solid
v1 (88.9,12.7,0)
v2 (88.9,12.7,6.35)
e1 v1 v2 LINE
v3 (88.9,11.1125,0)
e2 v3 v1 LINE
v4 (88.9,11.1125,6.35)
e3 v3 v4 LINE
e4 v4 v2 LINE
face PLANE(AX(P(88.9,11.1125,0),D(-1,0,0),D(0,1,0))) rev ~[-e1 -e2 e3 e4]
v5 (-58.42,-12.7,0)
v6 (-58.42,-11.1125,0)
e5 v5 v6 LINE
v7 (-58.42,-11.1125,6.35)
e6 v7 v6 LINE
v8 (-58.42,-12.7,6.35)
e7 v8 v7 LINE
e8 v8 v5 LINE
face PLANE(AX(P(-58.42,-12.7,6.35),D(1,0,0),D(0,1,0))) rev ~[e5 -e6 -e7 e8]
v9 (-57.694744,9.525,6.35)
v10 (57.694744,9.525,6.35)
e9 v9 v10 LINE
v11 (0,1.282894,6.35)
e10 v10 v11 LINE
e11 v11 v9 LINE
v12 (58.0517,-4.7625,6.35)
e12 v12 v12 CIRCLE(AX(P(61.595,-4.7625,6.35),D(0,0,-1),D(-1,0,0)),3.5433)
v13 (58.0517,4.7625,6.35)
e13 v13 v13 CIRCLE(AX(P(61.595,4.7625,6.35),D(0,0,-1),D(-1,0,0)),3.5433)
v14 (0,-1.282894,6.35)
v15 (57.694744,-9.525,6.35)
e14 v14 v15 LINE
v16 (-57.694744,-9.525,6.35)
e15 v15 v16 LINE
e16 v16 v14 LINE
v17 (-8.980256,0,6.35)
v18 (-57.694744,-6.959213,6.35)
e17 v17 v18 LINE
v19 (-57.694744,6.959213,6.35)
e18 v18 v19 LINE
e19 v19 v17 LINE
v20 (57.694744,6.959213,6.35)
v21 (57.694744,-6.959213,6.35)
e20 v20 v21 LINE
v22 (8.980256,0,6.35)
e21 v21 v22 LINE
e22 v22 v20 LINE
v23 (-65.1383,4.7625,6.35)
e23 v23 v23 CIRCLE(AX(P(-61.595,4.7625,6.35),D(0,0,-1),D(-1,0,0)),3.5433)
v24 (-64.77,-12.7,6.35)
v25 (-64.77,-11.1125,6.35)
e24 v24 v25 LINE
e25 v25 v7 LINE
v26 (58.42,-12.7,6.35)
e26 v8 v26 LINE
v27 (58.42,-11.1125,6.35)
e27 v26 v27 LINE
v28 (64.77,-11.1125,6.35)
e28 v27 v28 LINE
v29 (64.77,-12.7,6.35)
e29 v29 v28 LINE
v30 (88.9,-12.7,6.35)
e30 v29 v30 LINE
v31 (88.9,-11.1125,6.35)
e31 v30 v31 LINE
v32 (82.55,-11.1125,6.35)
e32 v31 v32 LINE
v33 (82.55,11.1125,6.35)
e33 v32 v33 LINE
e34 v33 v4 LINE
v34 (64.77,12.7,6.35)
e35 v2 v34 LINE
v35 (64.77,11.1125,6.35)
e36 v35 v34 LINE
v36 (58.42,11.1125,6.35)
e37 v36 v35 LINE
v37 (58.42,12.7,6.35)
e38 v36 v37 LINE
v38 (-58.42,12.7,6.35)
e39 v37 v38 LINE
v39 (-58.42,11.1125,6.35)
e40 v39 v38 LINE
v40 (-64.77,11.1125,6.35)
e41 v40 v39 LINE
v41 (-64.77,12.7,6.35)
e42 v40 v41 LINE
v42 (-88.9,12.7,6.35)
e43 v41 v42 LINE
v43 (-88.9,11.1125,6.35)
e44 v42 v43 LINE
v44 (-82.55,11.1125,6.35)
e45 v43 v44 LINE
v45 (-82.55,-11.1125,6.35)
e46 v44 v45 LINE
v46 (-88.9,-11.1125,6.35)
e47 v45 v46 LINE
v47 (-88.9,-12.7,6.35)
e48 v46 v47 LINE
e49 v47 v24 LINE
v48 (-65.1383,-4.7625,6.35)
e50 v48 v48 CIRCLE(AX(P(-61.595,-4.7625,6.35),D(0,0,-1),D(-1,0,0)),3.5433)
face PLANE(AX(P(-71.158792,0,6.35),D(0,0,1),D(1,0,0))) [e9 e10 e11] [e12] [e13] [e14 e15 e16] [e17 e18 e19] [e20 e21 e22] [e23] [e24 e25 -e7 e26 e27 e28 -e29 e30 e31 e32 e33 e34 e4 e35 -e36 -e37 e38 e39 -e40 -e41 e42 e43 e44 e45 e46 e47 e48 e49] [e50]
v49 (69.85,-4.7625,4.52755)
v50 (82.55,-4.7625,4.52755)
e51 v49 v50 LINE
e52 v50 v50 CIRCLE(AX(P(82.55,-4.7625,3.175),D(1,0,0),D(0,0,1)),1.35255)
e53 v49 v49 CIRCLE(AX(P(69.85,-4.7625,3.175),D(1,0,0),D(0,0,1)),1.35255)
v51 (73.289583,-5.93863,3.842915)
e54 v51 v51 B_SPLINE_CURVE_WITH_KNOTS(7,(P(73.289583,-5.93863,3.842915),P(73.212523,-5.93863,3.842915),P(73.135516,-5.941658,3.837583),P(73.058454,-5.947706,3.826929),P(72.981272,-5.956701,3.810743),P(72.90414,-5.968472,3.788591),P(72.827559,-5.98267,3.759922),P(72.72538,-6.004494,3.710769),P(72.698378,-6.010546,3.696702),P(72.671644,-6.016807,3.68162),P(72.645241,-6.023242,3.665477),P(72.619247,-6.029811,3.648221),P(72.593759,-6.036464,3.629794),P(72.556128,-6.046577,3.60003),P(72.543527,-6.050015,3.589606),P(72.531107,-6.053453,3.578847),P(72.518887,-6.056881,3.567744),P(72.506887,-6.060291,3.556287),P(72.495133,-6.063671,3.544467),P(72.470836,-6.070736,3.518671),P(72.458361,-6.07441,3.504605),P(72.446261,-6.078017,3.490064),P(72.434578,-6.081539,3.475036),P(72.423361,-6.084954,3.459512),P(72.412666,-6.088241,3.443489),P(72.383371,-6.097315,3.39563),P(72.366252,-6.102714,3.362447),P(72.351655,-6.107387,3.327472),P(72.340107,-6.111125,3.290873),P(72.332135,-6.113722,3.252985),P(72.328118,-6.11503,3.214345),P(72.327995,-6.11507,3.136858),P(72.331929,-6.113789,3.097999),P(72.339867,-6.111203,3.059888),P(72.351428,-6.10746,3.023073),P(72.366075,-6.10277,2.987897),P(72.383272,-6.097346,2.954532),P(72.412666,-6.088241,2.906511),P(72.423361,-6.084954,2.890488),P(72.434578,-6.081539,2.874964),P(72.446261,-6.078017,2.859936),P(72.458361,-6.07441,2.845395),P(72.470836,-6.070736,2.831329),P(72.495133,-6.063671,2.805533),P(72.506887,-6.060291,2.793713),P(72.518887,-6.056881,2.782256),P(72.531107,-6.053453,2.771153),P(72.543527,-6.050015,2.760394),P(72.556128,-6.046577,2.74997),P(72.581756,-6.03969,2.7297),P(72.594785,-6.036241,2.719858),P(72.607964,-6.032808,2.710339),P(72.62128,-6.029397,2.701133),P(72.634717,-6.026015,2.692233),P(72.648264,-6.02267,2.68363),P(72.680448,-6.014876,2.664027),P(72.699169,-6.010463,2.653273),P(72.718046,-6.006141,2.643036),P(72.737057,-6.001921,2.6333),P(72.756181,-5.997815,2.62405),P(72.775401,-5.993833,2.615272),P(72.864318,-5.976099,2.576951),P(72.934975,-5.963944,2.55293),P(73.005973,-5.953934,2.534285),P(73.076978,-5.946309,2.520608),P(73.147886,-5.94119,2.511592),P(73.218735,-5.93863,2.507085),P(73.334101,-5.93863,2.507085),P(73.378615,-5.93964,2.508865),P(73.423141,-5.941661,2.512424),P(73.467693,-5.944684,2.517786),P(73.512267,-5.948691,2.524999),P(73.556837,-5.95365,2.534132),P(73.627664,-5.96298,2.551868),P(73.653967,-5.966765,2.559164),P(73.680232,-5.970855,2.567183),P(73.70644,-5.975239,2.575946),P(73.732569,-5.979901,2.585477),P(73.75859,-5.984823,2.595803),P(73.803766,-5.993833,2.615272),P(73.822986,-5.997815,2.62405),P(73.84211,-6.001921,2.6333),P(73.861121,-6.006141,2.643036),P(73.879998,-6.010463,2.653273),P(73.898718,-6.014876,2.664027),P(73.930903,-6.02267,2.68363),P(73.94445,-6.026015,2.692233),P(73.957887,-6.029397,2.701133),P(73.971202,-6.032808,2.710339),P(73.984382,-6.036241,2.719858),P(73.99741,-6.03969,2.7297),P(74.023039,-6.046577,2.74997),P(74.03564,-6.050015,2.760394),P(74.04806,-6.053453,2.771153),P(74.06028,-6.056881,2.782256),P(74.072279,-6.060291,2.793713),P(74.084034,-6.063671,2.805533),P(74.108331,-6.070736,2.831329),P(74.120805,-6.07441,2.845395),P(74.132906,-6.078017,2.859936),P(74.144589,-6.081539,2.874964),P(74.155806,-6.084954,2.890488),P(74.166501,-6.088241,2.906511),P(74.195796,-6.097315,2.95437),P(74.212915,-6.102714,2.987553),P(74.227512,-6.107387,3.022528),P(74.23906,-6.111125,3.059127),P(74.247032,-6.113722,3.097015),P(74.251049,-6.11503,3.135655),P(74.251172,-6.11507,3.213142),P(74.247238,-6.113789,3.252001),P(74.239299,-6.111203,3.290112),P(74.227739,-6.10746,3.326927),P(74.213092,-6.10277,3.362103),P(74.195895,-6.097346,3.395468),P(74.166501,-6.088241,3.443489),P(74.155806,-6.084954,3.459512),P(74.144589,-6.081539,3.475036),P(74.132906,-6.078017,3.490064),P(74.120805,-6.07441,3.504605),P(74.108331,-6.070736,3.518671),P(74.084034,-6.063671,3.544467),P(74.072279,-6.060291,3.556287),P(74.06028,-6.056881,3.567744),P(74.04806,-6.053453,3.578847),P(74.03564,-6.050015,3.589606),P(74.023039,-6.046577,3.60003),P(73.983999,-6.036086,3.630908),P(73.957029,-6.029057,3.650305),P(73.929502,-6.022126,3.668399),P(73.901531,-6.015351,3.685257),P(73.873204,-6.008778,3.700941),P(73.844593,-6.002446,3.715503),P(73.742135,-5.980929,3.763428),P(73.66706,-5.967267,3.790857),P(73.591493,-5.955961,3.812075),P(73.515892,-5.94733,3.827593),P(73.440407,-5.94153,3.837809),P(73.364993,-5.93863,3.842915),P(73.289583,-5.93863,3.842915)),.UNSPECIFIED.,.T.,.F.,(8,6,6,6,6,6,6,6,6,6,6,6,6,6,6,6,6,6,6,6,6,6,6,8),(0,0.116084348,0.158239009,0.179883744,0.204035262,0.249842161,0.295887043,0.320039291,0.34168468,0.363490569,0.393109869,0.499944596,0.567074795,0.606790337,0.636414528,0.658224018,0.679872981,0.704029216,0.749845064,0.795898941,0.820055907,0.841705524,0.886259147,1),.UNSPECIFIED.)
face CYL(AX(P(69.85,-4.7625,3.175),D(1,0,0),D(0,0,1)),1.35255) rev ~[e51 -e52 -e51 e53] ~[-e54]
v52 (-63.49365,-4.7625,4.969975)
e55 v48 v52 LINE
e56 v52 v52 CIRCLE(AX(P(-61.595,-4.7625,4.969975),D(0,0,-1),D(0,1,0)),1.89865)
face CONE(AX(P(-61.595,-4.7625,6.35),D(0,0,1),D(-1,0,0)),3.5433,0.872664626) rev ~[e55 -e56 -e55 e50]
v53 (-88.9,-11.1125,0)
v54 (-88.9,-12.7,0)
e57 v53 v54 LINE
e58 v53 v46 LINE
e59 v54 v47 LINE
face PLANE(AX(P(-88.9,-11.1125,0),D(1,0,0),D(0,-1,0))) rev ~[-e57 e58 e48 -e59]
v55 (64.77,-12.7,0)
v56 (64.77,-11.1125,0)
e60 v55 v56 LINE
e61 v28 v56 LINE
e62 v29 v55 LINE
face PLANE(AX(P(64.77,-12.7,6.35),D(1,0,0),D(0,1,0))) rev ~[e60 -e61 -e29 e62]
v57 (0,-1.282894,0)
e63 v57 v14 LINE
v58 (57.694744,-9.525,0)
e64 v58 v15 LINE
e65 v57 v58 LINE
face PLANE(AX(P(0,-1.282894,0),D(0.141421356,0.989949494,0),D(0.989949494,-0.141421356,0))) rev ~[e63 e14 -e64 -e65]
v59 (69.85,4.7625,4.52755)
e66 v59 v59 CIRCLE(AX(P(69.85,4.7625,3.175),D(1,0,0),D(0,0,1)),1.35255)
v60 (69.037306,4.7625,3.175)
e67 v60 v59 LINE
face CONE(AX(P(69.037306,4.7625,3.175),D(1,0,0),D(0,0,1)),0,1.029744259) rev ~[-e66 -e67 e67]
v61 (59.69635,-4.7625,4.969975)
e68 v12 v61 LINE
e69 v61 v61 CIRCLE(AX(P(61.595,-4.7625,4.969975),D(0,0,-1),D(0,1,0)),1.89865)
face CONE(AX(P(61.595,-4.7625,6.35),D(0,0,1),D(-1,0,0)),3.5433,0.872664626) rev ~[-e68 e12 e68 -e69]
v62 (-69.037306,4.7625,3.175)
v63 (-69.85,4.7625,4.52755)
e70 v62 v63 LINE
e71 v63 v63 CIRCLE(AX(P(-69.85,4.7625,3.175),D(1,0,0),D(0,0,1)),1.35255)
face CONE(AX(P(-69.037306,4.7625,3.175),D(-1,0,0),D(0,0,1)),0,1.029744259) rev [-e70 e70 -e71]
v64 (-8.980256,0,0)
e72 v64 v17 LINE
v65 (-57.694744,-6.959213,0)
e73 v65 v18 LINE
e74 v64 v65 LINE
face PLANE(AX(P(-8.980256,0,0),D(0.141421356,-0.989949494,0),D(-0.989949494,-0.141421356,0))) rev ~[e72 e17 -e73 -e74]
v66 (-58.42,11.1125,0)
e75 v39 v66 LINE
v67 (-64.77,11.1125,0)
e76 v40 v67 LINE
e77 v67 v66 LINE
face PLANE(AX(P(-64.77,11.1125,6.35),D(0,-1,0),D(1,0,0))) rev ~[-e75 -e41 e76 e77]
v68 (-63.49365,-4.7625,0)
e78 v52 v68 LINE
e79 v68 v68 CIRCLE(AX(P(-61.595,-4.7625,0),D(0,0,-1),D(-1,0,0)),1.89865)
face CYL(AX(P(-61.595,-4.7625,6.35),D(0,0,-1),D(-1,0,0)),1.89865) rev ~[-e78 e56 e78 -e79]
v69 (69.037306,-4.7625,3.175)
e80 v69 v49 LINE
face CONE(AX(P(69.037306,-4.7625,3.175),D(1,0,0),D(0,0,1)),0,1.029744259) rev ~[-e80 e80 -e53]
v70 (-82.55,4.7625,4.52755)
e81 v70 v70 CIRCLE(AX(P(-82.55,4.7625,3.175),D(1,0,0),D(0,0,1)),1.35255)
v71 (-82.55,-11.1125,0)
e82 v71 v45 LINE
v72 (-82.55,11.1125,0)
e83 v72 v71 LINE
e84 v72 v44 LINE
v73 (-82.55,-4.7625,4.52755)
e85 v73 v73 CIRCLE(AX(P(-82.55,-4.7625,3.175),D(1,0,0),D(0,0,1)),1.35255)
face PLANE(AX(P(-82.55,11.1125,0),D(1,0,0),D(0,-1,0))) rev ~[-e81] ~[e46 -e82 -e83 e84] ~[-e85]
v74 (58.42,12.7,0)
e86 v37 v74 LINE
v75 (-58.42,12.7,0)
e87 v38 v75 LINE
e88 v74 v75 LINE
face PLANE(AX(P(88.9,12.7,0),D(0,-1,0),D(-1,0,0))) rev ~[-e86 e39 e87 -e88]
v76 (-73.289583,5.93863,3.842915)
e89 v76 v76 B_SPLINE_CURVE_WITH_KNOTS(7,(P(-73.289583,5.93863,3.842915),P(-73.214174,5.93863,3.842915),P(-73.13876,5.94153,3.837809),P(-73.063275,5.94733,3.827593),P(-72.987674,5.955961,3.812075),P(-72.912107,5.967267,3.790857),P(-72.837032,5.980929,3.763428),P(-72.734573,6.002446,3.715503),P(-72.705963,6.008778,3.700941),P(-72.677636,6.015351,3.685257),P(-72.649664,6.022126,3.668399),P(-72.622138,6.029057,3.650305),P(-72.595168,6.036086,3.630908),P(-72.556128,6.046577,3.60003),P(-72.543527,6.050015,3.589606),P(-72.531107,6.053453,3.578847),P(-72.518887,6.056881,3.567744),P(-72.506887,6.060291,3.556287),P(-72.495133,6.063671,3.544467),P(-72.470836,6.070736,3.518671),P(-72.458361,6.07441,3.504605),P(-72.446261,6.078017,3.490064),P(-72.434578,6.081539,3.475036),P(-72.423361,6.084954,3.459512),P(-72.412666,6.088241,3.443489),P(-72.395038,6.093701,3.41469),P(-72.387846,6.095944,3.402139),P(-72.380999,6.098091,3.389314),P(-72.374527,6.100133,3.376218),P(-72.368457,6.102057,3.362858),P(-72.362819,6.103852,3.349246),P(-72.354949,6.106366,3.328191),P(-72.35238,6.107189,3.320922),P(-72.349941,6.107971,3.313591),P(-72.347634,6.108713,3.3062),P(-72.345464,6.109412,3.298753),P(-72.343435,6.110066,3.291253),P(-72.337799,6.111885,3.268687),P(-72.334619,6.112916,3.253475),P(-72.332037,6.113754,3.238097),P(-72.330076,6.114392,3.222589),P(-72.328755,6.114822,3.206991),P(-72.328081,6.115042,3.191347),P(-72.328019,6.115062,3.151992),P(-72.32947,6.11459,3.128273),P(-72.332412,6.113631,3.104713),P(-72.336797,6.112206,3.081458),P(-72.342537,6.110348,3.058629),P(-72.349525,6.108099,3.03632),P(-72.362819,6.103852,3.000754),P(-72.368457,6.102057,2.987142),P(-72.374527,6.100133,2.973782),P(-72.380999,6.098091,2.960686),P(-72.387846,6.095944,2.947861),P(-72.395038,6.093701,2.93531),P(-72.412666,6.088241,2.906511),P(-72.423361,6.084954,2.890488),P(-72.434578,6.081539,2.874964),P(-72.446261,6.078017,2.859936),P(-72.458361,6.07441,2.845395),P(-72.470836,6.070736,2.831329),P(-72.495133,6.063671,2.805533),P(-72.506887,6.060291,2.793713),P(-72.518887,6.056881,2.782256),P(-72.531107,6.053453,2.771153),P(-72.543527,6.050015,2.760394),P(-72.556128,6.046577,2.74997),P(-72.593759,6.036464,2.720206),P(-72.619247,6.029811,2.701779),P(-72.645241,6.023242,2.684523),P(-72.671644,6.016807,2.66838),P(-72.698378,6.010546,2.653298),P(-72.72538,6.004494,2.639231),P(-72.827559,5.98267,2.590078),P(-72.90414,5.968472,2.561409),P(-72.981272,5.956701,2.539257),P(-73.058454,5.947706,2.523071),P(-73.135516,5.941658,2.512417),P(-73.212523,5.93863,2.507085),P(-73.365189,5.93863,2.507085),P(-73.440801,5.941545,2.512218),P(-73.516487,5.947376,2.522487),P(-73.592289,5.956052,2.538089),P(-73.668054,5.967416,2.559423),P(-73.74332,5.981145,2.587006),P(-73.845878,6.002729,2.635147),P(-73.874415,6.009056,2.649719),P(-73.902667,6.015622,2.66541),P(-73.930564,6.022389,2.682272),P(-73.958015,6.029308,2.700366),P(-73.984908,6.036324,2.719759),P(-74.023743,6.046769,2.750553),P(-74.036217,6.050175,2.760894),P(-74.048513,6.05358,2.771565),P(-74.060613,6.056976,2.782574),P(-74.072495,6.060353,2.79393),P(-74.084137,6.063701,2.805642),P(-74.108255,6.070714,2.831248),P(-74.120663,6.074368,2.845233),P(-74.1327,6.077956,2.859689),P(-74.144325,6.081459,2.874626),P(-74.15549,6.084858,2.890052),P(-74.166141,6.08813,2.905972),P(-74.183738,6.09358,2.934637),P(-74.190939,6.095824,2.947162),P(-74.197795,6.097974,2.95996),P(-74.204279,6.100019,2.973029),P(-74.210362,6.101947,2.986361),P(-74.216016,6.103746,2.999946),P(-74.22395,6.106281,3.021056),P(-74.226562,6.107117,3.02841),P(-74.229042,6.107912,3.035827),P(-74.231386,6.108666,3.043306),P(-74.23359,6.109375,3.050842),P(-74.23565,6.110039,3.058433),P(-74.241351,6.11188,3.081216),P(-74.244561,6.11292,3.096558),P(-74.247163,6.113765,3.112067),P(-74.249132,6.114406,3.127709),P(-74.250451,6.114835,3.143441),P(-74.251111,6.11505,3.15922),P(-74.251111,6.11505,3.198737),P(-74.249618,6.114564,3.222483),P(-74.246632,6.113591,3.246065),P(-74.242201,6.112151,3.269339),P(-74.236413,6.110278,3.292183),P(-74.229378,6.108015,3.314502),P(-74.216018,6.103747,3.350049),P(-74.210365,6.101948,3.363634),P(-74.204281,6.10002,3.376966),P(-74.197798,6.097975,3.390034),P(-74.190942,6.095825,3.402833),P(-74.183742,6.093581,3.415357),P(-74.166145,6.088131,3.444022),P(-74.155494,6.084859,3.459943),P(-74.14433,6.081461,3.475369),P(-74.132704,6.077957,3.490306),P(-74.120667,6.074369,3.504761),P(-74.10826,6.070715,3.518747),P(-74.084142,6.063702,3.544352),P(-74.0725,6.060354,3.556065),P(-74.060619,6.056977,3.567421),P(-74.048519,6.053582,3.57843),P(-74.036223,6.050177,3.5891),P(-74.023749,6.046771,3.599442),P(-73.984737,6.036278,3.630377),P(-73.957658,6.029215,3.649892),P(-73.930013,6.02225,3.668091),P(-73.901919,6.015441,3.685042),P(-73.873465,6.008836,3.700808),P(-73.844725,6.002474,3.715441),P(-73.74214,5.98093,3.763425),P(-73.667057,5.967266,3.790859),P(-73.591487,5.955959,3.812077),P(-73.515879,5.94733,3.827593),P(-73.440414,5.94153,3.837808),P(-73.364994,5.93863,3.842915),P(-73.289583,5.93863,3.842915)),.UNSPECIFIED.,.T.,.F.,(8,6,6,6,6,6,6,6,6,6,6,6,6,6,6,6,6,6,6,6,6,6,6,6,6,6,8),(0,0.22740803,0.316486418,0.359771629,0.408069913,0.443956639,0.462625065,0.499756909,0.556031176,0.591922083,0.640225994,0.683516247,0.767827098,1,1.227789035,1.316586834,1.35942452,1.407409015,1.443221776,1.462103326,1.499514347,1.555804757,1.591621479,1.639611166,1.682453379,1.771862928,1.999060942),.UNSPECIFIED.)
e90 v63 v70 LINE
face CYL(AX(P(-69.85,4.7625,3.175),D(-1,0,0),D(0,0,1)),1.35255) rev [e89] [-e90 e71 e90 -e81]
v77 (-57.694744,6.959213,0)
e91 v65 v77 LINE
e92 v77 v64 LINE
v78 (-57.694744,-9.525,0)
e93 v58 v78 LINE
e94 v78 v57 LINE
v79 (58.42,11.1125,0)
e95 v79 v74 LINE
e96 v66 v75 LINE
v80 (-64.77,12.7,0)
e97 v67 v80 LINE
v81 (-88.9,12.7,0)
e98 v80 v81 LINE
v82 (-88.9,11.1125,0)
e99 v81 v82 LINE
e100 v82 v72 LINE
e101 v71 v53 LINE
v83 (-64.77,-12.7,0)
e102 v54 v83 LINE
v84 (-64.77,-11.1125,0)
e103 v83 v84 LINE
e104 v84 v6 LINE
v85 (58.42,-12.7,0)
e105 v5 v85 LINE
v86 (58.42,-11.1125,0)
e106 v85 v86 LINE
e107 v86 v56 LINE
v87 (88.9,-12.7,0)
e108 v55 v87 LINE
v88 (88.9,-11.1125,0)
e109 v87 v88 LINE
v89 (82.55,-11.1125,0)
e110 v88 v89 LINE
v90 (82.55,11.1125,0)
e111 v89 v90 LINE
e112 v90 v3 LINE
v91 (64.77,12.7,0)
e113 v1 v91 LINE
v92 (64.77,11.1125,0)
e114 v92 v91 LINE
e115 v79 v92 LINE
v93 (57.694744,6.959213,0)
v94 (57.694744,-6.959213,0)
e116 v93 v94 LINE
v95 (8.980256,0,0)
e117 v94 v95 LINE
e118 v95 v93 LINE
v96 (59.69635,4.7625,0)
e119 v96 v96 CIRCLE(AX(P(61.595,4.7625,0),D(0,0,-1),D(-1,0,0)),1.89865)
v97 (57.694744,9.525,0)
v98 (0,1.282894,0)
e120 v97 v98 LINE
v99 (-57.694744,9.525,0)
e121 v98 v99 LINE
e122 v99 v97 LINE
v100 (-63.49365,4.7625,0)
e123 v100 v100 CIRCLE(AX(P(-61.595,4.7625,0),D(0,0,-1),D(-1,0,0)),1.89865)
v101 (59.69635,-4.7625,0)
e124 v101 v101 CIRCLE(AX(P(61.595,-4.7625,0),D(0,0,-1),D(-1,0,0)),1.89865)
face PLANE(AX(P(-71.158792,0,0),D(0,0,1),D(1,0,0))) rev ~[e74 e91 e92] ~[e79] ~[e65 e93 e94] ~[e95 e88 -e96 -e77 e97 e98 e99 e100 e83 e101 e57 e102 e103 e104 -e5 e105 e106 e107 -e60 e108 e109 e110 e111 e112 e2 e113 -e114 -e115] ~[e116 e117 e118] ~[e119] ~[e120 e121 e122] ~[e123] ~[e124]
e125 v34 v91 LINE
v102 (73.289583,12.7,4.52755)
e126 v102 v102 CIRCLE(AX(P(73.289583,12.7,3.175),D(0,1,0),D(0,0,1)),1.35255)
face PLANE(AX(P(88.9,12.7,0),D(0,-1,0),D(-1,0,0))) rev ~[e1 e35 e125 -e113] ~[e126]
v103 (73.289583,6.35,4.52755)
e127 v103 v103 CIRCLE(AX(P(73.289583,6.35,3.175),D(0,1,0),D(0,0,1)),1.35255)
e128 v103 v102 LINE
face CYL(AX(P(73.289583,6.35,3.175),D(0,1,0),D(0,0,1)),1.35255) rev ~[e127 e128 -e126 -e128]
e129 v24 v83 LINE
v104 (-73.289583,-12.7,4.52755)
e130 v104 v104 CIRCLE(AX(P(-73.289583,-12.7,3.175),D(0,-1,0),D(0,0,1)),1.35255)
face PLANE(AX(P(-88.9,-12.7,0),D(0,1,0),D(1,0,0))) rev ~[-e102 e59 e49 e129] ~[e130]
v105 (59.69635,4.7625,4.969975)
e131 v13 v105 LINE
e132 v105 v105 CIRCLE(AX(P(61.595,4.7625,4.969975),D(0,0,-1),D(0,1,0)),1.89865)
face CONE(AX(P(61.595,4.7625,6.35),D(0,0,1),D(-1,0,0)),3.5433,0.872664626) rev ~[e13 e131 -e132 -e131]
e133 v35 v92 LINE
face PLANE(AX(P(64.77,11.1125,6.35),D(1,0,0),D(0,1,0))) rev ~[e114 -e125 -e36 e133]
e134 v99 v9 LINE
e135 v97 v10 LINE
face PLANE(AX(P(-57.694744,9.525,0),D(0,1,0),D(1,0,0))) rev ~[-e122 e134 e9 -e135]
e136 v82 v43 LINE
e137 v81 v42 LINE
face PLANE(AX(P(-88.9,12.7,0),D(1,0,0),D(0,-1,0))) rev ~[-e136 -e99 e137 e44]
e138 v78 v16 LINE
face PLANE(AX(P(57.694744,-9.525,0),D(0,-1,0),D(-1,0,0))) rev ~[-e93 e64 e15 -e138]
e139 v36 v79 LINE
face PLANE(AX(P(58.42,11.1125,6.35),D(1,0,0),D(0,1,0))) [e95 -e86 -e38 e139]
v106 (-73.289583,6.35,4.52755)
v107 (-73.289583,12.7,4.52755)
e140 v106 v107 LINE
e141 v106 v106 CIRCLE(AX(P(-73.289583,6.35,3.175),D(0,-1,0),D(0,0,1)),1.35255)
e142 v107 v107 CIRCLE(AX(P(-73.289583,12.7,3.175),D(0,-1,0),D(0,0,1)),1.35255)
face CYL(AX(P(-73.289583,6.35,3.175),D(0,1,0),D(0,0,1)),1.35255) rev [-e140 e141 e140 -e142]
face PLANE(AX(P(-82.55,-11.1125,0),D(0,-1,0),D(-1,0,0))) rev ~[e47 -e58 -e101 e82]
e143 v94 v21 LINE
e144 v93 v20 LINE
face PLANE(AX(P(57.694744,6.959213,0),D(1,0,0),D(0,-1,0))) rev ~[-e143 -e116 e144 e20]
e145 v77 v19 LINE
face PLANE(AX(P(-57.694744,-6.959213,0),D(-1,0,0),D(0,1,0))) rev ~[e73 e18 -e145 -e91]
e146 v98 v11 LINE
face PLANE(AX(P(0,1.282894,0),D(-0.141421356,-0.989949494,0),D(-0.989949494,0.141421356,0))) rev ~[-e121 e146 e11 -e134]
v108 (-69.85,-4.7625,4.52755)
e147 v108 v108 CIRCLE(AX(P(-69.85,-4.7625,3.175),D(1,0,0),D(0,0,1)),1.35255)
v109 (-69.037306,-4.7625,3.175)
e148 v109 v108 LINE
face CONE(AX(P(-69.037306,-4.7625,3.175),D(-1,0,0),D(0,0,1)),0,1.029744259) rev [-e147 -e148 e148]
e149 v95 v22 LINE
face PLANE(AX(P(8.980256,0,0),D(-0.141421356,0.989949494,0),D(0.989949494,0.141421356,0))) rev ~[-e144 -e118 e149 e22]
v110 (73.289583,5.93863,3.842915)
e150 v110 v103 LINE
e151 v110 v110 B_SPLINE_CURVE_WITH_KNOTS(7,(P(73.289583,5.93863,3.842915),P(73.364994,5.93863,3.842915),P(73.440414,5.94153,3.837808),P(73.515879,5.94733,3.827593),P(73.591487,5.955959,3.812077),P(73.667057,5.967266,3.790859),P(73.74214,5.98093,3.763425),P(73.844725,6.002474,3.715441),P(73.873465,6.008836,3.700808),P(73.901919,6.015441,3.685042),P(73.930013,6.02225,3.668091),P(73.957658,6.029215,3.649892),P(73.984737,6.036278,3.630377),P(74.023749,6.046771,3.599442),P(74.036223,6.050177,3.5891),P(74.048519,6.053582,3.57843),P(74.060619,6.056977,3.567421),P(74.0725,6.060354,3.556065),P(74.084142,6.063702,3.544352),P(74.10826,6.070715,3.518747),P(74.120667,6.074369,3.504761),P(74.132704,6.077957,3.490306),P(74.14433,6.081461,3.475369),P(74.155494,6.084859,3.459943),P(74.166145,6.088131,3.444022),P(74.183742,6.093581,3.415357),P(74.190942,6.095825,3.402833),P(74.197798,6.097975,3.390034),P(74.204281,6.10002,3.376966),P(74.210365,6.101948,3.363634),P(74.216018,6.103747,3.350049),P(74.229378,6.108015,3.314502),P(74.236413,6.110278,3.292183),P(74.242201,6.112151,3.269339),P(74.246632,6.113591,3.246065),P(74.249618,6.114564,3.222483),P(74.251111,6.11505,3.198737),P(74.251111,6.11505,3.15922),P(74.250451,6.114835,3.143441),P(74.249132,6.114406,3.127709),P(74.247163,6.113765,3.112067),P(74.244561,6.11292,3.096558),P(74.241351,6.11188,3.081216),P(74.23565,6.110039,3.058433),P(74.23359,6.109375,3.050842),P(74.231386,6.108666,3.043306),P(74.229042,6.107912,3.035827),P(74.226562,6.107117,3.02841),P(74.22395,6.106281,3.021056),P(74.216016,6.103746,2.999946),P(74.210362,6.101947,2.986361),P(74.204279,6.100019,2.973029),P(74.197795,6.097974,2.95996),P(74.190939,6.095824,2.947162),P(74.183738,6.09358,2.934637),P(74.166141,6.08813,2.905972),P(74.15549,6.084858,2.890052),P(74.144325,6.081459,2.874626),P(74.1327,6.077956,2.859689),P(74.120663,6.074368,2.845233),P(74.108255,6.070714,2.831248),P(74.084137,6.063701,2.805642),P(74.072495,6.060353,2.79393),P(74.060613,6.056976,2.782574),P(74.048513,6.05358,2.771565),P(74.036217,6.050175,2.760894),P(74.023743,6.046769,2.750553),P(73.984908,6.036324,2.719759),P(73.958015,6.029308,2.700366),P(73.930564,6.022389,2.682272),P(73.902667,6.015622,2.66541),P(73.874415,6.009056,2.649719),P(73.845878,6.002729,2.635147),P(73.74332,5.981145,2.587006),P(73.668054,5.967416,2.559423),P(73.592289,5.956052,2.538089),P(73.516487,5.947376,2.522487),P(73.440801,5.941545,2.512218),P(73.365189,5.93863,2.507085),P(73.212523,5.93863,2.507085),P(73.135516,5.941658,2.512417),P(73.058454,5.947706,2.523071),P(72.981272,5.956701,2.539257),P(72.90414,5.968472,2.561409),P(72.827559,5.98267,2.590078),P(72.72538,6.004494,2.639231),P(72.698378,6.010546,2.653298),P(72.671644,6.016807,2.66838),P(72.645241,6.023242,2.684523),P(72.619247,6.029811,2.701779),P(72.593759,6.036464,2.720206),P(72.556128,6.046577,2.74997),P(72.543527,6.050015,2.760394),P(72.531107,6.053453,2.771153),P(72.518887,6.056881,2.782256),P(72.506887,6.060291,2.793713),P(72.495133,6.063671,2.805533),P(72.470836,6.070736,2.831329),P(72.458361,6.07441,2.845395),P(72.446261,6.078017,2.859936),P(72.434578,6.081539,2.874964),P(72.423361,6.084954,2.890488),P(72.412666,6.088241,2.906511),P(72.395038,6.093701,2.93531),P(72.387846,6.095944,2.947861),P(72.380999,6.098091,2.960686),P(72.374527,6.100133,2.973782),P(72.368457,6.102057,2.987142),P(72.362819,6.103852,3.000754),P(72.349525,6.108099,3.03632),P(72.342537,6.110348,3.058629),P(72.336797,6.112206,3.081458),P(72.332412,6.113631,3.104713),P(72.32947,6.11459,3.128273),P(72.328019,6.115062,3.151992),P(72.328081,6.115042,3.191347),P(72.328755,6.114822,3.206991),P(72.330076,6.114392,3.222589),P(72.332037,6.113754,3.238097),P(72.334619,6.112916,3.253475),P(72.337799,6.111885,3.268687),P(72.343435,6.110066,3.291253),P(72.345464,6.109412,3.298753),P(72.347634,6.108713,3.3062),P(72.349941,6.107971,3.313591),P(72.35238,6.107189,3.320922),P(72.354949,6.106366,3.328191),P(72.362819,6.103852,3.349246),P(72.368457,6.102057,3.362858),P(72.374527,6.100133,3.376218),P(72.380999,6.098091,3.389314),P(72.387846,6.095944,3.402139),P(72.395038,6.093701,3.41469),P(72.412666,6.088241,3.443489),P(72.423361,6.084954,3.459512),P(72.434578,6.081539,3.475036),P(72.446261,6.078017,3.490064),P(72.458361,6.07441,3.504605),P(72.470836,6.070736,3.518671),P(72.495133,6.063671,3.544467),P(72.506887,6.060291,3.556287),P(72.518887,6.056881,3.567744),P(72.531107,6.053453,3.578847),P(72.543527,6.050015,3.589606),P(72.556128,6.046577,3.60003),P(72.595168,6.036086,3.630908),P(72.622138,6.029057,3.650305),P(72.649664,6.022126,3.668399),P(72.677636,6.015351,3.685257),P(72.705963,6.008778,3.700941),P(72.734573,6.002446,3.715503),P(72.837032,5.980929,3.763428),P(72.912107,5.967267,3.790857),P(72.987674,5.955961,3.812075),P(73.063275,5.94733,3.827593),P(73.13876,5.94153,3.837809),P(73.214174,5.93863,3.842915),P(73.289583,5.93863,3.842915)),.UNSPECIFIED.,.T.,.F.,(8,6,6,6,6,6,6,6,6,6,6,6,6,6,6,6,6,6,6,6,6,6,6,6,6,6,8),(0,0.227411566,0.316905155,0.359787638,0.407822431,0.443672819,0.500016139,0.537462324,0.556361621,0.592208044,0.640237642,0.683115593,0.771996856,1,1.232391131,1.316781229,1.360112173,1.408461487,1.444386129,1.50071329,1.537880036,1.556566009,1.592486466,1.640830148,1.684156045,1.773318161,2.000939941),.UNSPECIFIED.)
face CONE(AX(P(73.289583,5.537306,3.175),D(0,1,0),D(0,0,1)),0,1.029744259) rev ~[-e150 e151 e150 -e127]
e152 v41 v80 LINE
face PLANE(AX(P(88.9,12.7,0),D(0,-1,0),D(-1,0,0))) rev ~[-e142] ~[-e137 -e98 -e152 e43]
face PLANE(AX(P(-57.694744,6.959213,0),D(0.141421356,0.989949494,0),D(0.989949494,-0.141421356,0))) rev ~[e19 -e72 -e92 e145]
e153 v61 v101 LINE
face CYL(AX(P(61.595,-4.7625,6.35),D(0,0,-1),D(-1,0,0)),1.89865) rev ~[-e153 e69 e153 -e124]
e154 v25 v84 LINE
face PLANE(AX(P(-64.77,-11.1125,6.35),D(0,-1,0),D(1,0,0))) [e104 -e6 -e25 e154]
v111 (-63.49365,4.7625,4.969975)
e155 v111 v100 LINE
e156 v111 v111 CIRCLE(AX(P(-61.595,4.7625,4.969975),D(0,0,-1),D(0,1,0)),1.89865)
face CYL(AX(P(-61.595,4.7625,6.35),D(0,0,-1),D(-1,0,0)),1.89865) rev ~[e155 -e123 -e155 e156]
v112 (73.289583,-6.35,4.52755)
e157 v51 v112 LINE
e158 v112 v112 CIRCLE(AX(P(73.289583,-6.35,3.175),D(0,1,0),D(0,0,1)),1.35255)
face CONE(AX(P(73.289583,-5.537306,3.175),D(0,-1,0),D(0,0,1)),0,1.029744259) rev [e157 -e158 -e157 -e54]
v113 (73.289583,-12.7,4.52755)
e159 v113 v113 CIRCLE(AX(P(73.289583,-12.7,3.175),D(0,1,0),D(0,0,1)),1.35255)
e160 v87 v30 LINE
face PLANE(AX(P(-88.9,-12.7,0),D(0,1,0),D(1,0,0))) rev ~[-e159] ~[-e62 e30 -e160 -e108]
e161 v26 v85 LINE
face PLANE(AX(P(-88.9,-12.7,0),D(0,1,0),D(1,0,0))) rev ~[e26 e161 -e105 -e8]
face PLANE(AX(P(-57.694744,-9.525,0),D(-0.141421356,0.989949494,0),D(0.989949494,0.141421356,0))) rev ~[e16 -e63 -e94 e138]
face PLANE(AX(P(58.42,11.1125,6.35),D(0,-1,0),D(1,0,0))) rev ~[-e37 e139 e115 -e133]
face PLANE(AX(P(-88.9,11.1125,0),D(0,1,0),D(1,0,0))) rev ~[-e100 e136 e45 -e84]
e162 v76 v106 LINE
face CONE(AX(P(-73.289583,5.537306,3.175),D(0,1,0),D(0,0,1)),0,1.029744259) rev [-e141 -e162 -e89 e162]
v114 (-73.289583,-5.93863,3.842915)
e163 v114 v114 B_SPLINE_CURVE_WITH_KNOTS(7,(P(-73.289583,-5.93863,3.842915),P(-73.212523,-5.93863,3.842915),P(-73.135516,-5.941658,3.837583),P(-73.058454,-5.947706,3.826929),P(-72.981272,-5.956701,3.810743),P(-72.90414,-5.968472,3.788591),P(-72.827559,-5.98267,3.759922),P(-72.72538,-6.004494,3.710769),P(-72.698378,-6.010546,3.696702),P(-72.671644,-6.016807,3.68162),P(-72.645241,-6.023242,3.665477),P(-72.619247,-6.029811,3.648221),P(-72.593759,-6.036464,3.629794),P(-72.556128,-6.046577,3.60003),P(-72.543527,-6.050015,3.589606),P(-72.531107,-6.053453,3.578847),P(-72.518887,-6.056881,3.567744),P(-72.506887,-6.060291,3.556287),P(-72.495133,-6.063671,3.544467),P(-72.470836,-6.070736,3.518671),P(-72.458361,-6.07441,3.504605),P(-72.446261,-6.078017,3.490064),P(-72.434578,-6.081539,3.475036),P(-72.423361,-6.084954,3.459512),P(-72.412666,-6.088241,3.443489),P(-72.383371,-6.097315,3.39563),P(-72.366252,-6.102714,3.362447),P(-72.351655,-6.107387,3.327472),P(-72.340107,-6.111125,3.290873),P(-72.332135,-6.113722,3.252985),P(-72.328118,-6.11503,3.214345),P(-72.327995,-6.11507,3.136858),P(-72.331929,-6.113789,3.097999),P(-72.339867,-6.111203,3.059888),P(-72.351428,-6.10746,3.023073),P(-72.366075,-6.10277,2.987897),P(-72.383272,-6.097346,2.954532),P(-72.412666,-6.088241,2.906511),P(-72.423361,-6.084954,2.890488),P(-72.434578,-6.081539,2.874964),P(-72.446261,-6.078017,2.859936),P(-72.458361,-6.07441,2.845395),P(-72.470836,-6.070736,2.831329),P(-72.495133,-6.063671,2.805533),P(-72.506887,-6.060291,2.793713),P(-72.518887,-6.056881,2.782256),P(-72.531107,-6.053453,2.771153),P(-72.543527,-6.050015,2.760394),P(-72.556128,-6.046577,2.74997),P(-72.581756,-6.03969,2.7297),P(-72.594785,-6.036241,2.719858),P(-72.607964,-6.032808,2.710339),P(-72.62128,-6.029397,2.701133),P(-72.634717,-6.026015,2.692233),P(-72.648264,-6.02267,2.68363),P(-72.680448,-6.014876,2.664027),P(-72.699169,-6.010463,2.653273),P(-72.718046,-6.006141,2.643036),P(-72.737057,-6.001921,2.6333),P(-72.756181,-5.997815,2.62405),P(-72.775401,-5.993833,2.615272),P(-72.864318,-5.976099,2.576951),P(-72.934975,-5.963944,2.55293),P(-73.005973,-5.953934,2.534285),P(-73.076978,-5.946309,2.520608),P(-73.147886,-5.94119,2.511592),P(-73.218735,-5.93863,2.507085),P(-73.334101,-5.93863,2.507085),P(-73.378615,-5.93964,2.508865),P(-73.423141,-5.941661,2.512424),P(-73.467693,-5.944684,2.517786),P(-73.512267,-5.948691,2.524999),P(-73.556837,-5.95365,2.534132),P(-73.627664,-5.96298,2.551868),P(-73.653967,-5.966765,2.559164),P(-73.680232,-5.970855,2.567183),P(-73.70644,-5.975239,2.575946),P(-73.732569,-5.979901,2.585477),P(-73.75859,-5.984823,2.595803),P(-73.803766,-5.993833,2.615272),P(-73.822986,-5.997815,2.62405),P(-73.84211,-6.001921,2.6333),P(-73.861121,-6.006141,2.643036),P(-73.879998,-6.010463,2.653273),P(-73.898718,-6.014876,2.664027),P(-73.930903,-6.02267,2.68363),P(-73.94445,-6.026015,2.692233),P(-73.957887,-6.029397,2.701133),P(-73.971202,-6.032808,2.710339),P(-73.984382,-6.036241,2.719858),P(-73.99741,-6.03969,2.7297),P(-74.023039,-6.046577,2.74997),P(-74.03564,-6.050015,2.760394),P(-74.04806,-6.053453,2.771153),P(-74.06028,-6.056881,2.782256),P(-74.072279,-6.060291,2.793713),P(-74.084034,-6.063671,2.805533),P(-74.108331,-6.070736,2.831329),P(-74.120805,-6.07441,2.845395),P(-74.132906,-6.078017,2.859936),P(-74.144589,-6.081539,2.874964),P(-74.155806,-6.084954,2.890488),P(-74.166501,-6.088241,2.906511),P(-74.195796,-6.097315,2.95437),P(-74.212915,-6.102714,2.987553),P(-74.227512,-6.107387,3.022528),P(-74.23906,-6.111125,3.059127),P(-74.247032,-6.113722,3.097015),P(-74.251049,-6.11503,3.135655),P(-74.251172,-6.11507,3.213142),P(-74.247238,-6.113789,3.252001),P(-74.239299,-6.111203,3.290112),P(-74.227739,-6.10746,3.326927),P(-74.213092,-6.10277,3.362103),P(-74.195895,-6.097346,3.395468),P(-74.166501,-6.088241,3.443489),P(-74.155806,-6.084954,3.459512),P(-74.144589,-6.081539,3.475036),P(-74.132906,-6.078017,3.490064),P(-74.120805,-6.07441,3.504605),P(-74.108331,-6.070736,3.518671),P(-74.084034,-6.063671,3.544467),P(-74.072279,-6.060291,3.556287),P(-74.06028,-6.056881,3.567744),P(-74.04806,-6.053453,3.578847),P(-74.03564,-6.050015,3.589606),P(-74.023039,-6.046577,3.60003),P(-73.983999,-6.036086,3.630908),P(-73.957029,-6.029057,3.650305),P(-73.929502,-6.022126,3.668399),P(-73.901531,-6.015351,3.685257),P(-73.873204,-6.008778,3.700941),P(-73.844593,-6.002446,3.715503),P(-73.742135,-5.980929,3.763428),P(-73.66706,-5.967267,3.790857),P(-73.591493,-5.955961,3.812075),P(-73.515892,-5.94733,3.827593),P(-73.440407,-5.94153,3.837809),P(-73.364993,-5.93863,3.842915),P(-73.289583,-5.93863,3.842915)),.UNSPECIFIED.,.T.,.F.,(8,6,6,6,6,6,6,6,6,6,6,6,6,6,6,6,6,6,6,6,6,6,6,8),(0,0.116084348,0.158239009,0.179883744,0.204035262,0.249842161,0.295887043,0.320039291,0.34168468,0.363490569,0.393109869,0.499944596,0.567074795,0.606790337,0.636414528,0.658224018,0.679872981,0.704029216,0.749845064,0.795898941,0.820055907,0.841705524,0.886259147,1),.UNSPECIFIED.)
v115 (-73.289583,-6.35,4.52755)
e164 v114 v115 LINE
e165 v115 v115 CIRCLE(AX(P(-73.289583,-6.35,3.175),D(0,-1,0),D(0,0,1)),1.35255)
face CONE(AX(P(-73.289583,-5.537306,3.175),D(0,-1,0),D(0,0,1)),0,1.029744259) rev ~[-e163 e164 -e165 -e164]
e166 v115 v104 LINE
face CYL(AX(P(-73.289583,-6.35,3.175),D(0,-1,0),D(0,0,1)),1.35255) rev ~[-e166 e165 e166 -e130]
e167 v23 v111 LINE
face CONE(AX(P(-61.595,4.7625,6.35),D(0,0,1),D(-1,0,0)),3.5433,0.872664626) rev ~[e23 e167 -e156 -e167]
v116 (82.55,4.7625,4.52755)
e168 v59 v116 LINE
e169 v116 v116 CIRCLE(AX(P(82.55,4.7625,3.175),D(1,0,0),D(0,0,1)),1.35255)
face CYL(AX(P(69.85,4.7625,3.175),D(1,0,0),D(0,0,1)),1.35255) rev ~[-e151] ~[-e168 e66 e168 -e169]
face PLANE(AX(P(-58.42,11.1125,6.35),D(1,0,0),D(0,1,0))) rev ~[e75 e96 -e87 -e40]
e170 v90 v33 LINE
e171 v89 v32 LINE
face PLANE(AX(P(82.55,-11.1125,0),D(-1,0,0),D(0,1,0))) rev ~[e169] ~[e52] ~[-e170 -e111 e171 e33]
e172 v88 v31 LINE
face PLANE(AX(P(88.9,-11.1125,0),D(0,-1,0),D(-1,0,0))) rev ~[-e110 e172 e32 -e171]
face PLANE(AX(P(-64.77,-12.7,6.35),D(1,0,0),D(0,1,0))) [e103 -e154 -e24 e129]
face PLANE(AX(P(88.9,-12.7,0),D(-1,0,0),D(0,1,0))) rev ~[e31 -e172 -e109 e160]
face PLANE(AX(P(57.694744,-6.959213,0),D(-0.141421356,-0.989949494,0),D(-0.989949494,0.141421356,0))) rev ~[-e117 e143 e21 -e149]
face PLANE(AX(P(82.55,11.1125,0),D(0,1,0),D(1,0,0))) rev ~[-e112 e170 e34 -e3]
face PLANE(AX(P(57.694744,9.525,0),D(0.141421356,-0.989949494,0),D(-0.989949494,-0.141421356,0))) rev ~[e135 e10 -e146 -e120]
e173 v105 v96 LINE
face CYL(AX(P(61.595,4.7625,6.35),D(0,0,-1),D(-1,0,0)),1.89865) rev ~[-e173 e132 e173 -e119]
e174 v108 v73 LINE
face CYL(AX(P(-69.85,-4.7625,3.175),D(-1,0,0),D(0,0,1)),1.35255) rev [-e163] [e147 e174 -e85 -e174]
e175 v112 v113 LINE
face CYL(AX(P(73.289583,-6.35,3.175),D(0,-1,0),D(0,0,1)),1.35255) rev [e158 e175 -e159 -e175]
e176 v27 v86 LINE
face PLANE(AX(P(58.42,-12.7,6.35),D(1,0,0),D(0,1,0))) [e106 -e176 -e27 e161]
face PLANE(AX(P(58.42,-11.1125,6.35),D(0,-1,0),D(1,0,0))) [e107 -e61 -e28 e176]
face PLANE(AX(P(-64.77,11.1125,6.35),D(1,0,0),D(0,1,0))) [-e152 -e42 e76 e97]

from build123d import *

# Parameters (mm, degrees)
BOSS_EXTRUDE1_DEPTH                               = 6.35
TAP_DRILL_FOR_6_32_TAP1_AT_2_COUNT                = 2
TAP_DRILL_FOR_6_32_TAP1_AT_2_PITCH                = 9.525
SKETCH7_W                                         = 6.35
SKETCH7_H                                         = 1.5875
CUT_EXTRUDE1_DEPTH                                = 91.02678768
CSK_FOR_6_FLAT_HEAD_MACHINE_SCREW_100_D           = 3.7973
CSK_FOR_6_FLAT_HEAD_MACHINE_SCREW_100_CSINK_D     = 7.0866
CSK_FOR_6_FLAT_HEAD_MACHINE_SCREW_100_CSINK_ANGLE = 100


with BuildPart() as part:
    # Sketch1 → Boss-Extrude1 (new body)
    with BuildSketch(Plane.XY):
        Polygon((-57.694743879, -6.959212537), (-57.694743879, 6.959212537), (-82.55, 10.509963411), (-82.55, -10.509963411), align=None)
        Polygon((57.694743879, -9.525), (-57.694743879, -9.525), (-79.919743879, -12.7), (79.919743879, -12.7), align=None)
        Polygon((-57.694743879, -9.525), (-57.694743879, -6.959212537), (-82.55, -10.509963411), (-82.55, -11.1125), (-86.767756121, -11.1125), (-88.9, -11.417106268), (-88.9, -12.7), (-79.919743879, -12.7), align=None)
        Polygon((0, -1.282893732), (-8.980256121, 0), (-57.694743879, -6.959212537), (-57.694743879, -9.525), align=None)
        Polygon((0, 1.282893732), (-57.694743879, 9.525), (-57.694743879, 6.959212537), (-8.980256121, 0), align=None)
        Polygon((79.919743879, 12.7), (-79.919743879, 12.7), (-57.694743879, 9.525), (57.694743879, 9.525), align=None)
        Polygon((-79.919743879, 12.7), (-88.9, 12.7), (-88.9, 11.417106268), (-86.767756121, 11.1125), (-82.55, 11.1125), (-82.55, 10.509963411), (-57.694743879, 6.959212537), (-57.694743879, 9.525), align=None)
        Polygon((57.694743879, -6.959212537), (8.980256121, 0), (0, -1.282893732), (57.694743879, -9.525), align=None)
        Polygon((57.694743879, 6.959212537), (57.694743879, 9.525), (0, 1.282893732), (8.980256121, 0), align=None)
        Polygon((8.980256121, 0), (0, 1.282893732), (-8.980256121, 0), (0, -1.282893732), align=None)
        Polygon((82.55, -10.509963411), (57.694743879, -6.959212537), (57.694743879, -9.525), (79.919743879, -12.7), (88.9, -12.7), (88.9, -11.417106268), (86.767756121, -11.1125), (82.55, -11.1125), align=None)
        Polygon((88.9, 12.7), (79.919743879, 12.7), (57.694743879, 9.525), (57.694743879, 6.959212537), (82.55, 10.509963411), (82.55, 11.1125), (86.767756121, 11.1125), (88.9, 11.417106268), align=None)
        Polygon((88.9, 11.1125), (88.9, 11.417106268), (86.767756121, 11.1125), align=None)
        Polygon((88.9, -11.1125), (86.767756121, -11.1125), (88.9, -11.417106268), align=None)
        Polygon((82.55, 10.509963411), (57.694743879, 6.959212537), (57.694743879, -6.959212537), (82.55, -10.509963411), align=None)
        Polygon((-88.9, -11.417106268), (-86.767756121, -11.1125), (-88.9, -11.1125), align=None)
        Polygon((-86.767756121, 11.1125), (-88.9, 11.417106268), (-88.9, 11.1125), align=None)
    extrude(amount=BOSS_EXTRUDE1_DEPTH)

    # Sketch4 → Tap Drill for #6-32 Tap1 (revolve, cut)
    with BuildSketch(Plane(origin=(-82.55, 4.7625, 3.175), x_dir=(0, 0, 1), z_dir=(0, 1, 0))):
        Polygon((0, 0), (0, 13.51269403), (1.35255, 12.7), (1.35255, 0), align=None)
    tap_drill_for_6_32_tap1 = revolve(axis=Axis((-88.9, 4.7625, 3.175), (1, 0, 0)), mode=Mode.SUBTRACT)

    # Tap Drill for #6-32 Tap1 at 2: Tap Drill for #6-32 Tap1 ×2
    with Locations(*[(0, -i * TAP_DRILL_FOR_6_32_TAP1_AT_2_PITCH, 0) for i in range(1, TAP_DRILL_FOR_6_32_TAP1_AT_2_COUNT)]):
        add(tap_drill_for_6_32_tap1, mode=Mode.SUBTRACT)

    # Mirror1: Tap Drill for #6-32 Tap1 across plane
    add(tap_drill_for_6_32_tap1.mirror(Plane(origin=(0, 0, 0), x_dir=(0, 0, 1), z_dir=(1, 0, 0))), mode=Mode.SUBTRACT)

    # Mirror1 copy 1 sketch → Mirror1 copy 1 (revolve, cut)
    with BuildSketch(Plane(origin=(82.55, -4.7625, 3.175), x_dir=(0, 0, 1), z_dir=(0, 1, 0))):
        Polygon((0, 0), (0, -13.51269403), (1.35255, -12.7), (1.35255, 0), align=None)
    revolve(axis=Axis((88.9, -4.7625, 3.175), (1, 0, 0)), mode=Mode.SUBTRACT)

    # Sketch5 → Tap Drill for #6-32 Tap2 (revolve, cut)
    with BuildSketch(Plane(origin=(-73.289583418, 12.7, 3.175), x_dir=(0, 0, 1), z_dir=(1, 0, 0))):
        Polygon((0, 0), (0, 7.16269403), (1.35255, 6.35), (1.35255, 0), align=None)
    tap_drill_for_6_32_tap2 = revolve(axis=Axis((-73.289583418, 19.05, 3.175), (0, -1, 0)), mode=Mode.SUBTRACT)

    # Mirror2: Tap Drill for #6-32 Tap2 across plane
    add(tap_drill_for_6_32_tap2.mirror(Plane(origin=(0, 0, 0), x_dir=(0, 0, 1), z_dir=(1, 0, 0))), mode=Mode.SUBTRACT)

    # Mirror3: Tap Drill for #6-32 Tap2 across plane
    add(tap_drill_for_6_32_tap2.mirror(Plane(origin=(0, 0, 0), x_dir=(0, 0, 1), z_dir=(0, -1, 0))), mode=Mode.SUBTRACT)

    # Mirror3 copy 1 sketch → Mirror3 copy 1 (revolve, cut)
    with BuildSketch(Plane(origin=(73.289583418, -12.7, 3.175), x_dir=(0, 0, 1), z_dir=(-1, 0, 0))):
        Polygon((0, 0), (0, 7.16269403), (1.35255, 6.35), (1.35255, 0), align=None)
    revolve(axis=Axis((73.289583418, -19.05, 3.175), (0, 1, 0)), mode=Mode.SUBTRACT)

    # Sketch7 → Cut-Extrude1 (cut, through all)
    with BuildSketch(Plane.XY.offset(6.35)):
        with Locations((-61.595, 11.90625)):
            Rectangle(SKETCH7_W, SKETCH7_H)
        with Locations((-61.595, -11.90625)):
            Rectangle(SKETCH7_W, SKETCH7_H)
        with Locations((61.595, -11.90625)):
            Rectangle(SKETCH7_W, SKETCH7_H)
        with Locations((61.595, 11.90625)):
            Rectangle(SKETCH7_W, SKETCH7_H)
    extrude(amount=-CUT_EXTRUDE1_DEPTH, mode=Mode.SUBTRACT)

    # CSK for #6 Flat Head Machine Screw (100)1 (through all)
    with Locations(Plane.XY.offset(6.35)):
        with Locations((-61.595, 4.7625), (-61.595, -4.7625), (61.595, -4.7625), (61.595, 4.7625)):
            CounterSinkHole(CSK_FOR_6_FLAT_HEAD_MACHINE_SCREW_100_D / 2, CSK_FOR_6_FLAT_HEAD_MACHINE_SCREW_100_CSINK_D / 2, counter_sink_angle=CSK_FOR_6_FLAT_HEAD_MACHINE_SCREW_100_CSINK_ANGLE)


solid = part.part
